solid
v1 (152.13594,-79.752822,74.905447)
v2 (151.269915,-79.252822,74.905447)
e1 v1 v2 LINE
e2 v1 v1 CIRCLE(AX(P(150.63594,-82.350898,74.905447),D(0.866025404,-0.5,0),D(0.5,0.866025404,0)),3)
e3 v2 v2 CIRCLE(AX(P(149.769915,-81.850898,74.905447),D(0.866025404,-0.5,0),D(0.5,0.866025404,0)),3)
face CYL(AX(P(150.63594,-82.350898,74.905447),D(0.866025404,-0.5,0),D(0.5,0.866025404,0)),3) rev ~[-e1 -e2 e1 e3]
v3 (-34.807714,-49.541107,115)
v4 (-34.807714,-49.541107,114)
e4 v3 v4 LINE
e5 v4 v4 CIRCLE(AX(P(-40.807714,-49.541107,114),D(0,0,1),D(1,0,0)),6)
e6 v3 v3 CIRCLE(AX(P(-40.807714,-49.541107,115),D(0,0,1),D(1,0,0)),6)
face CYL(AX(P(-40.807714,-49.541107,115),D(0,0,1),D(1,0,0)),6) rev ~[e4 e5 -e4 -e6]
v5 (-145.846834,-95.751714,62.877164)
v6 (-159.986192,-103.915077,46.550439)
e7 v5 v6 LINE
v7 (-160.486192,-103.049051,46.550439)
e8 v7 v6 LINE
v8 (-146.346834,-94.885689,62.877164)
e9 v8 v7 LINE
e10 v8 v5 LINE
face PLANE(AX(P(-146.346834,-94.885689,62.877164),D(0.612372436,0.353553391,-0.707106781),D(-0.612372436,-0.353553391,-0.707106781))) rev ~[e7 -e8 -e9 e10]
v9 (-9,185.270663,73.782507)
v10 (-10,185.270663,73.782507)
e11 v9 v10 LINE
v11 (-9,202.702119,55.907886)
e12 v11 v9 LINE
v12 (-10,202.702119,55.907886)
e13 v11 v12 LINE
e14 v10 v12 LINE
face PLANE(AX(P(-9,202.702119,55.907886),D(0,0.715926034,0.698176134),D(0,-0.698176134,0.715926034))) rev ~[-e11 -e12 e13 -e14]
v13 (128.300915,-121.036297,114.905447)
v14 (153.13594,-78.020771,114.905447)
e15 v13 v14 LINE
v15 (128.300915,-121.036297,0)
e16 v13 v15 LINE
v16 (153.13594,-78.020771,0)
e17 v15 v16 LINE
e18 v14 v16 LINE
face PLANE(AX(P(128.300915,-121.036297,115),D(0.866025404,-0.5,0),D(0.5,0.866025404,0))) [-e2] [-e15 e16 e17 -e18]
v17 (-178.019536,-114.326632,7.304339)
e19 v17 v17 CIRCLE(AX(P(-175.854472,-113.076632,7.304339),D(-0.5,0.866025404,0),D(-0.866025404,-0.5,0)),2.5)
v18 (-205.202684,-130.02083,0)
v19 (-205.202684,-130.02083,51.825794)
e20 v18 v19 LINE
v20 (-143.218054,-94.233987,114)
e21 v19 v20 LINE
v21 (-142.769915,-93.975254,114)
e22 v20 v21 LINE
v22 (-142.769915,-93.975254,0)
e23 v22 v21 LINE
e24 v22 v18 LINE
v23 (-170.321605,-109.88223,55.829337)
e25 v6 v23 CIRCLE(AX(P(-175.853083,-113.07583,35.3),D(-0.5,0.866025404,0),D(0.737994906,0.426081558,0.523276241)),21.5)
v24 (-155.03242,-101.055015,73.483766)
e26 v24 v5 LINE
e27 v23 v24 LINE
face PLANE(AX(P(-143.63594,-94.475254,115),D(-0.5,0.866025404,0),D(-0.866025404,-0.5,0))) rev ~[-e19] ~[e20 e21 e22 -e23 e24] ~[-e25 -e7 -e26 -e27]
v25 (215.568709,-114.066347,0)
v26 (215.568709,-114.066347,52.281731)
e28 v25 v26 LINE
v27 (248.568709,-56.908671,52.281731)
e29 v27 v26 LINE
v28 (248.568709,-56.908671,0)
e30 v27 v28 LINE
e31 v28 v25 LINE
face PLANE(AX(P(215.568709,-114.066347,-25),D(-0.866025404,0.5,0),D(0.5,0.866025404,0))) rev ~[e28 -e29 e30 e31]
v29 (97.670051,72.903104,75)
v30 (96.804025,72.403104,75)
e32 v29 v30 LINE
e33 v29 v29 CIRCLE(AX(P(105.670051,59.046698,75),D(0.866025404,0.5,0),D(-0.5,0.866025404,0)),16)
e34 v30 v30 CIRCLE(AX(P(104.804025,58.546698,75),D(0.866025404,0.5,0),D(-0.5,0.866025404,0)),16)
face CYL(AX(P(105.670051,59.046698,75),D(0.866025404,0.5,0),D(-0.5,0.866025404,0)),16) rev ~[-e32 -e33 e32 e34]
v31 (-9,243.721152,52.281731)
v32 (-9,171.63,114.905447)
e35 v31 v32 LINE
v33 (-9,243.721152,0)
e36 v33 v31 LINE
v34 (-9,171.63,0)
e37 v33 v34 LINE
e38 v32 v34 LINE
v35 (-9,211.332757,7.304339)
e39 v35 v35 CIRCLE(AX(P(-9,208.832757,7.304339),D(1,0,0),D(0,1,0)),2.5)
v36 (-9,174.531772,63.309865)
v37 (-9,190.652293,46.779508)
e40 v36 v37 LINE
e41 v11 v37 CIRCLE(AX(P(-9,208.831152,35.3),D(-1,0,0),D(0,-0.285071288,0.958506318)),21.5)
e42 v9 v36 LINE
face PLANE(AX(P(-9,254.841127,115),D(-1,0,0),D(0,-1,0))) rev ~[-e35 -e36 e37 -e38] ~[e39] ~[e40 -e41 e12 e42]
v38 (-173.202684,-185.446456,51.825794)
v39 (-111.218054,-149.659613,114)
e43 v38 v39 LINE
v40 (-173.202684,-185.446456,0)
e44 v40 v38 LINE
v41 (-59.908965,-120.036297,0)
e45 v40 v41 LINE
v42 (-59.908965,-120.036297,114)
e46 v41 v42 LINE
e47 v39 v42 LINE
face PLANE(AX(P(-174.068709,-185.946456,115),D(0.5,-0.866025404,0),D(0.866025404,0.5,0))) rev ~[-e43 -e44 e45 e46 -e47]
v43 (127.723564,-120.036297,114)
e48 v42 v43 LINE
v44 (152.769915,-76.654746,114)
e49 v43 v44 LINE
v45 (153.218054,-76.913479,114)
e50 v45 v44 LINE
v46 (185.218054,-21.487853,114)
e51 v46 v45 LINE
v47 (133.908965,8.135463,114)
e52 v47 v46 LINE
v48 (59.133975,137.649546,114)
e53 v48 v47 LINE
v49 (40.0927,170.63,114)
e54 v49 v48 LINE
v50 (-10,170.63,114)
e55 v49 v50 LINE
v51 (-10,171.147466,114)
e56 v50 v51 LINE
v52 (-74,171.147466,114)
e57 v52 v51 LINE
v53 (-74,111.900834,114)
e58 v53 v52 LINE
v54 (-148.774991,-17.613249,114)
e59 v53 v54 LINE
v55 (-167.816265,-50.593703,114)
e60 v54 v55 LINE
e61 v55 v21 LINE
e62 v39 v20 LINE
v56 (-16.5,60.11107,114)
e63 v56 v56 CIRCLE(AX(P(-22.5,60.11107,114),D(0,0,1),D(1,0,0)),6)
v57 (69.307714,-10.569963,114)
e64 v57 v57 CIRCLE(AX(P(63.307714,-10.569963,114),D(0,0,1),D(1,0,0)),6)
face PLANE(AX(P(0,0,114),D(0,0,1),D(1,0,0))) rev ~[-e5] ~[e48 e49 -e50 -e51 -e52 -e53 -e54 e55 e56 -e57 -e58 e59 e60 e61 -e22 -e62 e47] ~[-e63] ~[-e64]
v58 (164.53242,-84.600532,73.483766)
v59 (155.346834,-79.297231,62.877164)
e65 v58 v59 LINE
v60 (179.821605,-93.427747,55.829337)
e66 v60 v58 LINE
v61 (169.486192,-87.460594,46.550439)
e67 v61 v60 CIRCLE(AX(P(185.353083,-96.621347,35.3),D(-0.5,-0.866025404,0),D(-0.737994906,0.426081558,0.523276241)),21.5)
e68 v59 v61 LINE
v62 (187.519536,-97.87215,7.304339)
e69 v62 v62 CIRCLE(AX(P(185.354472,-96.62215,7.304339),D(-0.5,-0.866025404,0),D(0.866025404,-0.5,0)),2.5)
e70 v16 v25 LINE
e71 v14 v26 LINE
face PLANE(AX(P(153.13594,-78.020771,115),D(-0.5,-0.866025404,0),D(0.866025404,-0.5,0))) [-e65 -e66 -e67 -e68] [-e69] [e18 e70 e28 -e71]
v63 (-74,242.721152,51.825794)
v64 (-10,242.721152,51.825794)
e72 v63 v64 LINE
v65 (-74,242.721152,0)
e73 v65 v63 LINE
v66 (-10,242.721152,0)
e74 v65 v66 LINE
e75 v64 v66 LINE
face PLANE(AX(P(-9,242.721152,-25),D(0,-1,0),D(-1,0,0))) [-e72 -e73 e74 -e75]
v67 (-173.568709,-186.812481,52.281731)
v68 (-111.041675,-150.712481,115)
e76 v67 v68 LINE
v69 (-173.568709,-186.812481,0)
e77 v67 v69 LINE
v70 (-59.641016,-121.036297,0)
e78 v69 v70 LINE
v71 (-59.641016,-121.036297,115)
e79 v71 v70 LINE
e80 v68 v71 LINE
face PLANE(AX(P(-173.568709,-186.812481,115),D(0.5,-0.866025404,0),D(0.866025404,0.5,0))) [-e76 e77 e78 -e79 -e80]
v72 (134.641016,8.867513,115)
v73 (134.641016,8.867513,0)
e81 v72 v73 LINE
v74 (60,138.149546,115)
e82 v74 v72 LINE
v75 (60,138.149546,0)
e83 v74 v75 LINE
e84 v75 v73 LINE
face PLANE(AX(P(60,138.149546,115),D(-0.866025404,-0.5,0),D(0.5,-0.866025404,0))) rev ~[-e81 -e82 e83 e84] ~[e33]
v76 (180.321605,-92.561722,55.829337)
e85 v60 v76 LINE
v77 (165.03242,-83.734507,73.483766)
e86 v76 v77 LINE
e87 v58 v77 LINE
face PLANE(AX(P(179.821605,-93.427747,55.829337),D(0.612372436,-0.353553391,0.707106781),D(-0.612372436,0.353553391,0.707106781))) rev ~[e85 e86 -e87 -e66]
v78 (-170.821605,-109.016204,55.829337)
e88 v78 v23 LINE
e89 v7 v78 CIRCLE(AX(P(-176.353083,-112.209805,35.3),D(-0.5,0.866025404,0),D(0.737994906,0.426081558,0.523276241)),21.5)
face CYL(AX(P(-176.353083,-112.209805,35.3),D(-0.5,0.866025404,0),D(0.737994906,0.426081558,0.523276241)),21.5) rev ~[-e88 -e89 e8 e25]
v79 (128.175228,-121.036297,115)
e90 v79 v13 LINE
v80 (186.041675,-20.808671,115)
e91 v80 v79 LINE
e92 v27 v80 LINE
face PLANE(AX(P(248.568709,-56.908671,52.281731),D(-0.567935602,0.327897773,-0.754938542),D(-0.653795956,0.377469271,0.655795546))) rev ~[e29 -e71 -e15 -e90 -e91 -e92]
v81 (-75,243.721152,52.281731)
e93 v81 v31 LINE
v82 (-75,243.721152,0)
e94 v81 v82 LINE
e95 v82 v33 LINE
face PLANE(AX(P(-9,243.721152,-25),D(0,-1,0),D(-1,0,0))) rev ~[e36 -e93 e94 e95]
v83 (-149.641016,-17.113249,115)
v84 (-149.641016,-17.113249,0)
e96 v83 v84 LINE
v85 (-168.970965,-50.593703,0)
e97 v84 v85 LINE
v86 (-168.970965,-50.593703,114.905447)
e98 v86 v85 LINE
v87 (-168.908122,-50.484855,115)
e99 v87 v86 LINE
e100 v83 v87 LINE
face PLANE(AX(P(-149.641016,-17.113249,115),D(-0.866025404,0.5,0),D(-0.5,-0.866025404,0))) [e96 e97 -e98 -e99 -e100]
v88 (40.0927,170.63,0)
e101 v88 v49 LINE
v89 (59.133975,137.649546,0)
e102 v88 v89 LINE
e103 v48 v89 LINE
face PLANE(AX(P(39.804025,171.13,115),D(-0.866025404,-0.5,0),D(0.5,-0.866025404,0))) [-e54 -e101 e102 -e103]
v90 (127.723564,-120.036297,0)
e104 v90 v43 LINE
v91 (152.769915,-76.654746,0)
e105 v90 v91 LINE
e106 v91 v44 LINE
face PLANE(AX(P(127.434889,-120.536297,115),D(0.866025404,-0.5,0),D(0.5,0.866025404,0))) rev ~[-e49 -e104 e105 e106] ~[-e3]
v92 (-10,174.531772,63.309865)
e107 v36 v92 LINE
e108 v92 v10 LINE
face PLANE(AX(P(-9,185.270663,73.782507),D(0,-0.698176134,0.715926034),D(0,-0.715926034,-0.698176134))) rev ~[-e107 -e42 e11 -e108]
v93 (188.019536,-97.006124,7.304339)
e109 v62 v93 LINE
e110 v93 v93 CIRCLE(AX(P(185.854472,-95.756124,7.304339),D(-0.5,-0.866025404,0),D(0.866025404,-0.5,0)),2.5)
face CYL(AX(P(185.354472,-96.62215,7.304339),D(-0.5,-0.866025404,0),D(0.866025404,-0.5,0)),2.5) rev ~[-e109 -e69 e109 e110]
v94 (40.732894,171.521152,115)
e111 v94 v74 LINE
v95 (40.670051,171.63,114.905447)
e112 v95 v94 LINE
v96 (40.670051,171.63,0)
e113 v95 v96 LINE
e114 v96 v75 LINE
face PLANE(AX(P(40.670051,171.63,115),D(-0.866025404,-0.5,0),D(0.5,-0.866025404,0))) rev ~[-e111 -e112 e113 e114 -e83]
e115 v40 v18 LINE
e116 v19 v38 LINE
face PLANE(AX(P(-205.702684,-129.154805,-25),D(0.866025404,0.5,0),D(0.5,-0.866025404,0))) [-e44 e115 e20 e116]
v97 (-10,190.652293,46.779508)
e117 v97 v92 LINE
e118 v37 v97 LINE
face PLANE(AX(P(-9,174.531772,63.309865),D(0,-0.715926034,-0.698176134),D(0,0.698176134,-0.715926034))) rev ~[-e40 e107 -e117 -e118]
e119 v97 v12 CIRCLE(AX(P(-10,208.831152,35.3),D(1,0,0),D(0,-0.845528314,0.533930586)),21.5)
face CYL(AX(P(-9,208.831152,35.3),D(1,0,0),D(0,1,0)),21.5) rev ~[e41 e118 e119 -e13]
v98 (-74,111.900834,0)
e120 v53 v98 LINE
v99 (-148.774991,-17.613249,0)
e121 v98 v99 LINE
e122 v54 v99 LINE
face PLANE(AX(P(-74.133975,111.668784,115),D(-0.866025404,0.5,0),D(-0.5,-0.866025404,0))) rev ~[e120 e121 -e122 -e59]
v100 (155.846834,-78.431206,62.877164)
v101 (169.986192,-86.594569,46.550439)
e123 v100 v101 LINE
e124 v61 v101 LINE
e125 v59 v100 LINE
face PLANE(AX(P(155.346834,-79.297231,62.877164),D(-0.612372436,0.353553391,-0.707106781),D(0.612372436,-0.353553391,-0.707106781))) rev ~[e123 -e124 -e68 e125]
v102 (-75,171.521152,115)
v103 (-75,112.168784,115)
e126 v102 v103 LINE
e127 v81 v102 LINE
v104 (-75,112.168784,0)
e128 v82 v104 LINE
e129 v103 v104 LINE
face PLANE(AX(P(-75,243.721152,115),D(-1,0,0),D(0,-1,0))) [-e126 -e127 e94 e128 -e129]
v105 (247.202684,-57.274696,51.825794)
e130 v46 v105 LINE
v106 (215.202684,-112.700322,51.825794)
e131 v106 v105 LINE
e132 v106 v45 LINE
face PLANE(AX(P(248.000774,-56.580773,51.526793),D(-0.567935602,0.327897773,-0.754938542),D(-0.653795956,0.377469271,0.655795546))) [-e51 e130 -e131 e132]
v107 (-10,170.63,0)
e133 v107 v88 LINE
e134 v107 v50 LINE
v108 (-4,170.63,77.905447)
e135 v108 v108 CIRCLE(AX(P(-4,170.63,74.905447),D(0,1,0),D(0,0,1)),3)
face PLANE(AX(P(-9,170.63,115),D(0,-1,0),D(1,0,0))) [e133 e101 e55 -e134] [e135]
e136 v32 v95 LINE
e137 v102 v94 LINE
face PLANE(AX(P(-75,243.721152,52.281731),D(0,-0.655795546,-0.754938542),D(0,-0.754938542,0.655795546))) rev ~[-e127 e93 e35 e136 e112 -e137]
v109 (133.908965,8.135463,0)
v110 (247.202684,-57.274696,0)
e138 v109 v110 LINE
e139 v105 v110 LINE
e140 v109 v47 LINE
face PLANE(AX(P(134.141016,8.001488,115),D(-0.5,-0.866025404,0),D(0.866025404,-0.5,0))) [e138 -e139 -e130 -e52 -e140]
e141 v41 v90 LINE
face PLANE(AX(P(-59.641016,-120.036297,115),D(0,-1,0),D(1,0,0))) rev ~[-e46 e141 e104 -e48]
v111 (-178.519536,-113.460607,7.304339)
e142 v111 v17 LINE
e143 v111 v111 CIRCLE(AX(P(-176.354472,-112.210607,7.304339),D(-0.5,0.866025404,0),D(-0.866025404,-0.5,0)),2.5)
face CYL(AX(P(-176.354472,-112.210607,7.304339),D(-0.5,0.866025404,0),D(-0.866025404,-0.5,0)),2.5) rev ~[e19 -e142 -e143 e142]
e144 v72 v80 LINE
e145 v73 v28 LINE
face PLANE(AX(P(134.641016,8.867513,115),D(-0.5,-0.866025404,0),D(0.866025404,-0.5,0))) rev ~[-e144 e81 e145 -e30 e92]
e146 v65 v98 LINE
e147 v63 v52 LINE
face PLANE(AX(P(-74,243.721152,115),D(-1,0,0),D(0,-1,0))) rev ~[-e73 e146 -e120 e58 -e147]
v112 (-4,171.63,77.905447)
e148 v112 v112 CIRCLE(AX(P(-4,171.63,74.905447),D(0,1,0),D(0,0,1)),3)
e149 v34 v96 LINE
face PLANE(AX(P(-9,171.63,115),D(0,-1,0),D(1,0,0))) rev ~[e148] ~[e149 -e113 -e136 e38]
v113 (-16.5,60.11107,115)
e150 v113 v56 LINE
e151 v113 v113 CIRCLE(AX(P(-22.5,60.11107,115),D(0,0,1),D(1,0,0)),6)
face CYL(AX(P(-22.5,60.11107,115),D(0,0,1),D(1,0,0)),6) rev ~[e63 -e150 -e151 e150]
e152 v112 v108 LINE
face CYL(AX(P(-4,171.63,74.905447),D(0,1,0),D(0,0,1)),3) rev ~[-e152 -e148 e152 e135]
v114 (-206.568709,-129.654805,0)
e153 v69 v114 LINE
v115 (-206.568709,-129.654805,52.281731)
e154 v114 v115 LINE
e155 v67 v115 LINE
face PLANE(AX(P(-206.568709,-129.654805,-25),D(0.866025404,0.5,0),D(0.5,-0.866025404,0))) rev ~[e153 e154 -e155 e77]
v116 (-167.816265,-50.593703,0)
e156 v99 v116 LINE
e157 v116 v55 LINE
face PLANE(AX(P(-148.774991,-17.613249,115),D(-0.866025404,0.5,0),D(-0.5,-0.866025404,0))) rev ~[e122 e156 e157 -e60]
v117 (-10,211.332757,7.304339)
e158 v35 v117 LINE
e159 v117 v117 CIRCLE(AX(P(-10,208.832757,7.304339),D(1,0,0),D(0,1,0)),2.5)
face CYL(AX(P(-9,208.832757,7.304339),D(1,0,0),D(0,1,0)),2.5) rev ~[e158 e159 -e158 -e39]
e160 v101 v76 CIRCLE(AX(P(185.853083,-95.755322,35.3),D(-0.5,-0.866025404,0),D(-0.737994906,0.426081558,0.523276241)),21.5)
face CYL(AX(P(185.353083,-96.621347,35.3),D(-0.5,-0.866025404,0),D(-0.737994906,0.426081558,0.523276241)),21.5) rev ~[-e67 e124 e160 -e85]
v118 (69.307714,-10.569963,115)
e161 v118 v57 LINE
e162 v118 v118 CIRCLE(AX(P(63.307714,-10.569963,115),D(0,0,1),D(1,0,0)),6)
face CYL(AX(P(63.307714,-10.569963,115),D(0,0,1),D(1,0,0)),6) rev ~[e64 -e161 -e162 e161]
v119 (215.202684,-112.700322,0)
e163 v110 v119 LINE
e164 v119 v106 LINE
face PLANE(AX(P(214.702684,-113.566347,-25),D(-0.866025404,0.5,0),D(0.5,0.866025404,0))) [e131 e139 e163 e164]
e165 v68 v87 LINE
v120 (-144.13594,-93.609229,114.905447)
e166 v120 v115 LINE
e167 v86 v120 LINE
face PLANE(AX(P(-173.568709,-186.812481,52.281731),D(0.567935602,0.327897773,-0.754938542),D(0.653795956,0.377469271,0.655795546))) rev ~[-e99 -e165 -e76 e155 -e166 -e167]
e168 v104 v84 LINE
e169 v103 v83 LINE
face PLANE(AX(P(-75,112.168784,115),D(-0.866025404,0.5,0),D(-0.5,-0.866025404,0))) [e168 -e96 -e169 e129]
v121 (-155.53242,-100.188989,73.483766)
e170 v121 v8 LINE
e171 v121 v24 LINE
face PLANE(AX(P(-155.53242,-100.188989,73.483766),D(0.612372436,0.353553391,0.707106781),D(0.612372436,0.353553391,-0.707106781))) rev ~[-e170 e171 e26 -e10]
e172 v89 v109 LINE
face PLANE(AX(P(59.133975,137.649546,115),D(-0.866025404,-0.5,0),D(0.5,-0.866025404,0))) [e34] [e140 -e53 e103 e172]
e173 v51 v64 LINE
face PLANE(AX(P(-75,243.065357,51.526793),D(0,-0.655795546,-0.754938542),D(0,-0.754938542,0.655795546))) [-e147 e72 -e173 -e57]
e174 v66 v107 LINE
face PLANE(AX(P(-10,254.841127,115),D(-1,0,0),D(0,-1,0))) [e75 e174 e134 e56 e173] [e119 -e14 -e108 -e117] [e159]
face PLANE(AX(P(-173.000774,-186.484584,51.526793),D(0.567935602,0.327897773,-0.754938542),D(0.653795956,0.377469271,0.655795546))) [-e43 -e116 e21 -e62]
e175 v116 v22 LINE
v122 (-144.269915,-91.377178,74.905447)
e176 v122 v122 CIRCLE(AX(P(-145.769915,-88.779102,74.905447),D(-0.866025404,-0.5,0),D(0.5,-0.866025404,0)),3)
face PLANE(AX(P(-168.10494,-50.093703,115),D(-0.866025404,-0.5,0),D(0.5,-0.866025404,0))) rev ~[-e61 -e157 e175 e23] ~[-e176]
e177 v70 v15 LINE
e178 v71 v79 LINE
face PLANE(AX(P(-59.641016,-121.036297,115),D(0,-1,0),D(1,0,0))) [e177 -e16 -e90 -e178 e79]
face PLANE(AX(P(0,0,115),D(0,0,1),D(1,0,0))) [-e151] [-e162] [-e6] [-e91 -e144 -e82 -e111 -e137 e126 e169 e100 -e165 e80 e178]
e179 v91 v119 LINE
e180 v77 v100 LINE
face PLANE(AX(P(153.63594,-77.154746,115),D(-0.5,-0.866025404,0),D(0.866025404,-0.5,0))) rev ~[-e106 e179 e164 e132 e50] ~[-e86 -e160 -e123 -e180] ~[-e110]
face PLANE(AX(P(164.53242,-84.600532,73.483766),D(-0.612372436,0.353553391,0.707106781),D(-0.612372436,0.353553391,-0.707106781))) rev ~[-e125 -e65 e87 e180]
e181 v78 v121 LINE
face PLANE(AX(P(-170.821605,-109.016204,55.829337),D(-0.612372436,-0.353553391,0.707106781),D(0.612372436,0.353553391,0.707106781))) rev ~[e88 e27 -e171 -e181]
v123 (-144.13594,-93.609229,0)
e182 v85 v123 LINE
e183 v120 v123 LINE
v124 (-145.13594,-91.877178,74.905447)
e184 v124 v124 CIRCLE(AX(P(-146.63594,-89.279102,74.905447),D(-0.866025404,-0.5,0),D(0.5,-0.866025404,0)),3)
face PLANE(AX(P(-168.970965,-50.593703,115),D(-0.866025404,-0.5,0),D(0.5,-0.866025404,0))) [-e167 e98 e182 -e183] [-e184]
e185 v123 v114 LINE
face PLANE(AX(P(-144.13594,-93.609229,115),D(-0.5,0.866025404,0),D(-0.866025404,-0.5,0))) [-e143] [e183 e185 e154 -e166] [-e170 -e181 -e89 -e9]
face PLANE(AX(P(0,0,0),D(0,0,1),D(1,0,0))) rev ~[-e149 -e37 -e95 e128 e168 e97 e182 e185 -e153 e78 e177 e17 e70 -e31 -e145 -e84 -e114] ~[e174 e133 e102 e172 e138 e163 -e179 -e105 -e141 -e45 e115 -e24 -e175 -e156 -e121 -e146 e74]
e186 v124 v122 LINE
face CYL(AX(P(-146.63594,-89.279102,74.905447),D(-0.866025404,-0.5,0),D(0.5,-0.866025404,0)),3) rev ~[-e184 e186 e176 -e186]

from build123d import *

# Parameters (mm, degrees)
SKETCH_1_R           = 255
EXTRUDE_1_DEPTH      = 115
CUT_EXTRUDE_1_DEPTH  = 379.516842426
CUT_EXTRUDE_START    = -140
CUT_EXTRUDE_2_DEPTH  = 140
CUT_EXTRUDE_3_DEPTH  = 140
CUT_EXTRUDE_4_DEPTH  = 140
CUT_EXTRUDE_5_DEPTH  = 140
SHELL_1_T            = -1
SKETCH_7_R           = 21.5
CUT_EXTRUDE_6_DEPTH  = 10
CUT_EXTRUDE_7_DEPTH  = 10
CUT_EXTRUDE_8_DEPTH  = 10
SKETCH_10_R          = 6
CUT_EXTRUDE_9_DEPTH  = 10
SKETCH_11_R          = 2.5
CUT_EXTRUDE_10_DEPTH = 10
SKETCH_13_R          = 2.5
CUT_EXTRUDE_11_DEPTH = 10
SKETCH_12_R          = 2.5
CUT_EXTRUDE_12_DEPTH = 10
SKETCH_16_R          = 16
CUT_EXTRUDE_13_DEPTH = 4.5
CUT_EXTRUDE_14_DEPTH = 4.5
SKETCH_18_R          = 3
CUT_EXTRUDE_15_DEPTH = 4.5
SKETCH_19_R          = 3
CUT_EXTRUDE_16_DEPTH = 4.5
SKETCH_20_R          = 3
CUT_EXTRUDE_17_DEPTH = 4.5


with BuildPart() as part:
    # 草图1 → 拉伸1 (new body)
    with BuildSketch(Plane.XY):
        Circle(SKETCH_1_R)
    extrude(amount=EXTRUDE_1_DEPTH)

    # 草图2 → 切除-拉伸1 (cut, through all)
    with BuildSketch(Plane.XY.offset(115)):
        with BuildLine():
            Line((-75, 243.721152139), (-75, 112.168783649))
            Line((-75, 112.168783649), (-149.641016151, -17.113248654))
            Line((-149.641016151, -17.113248654), (-168.970965418, -50.593702892))
            Line((-168.970965418, -50.593702892), (-144.135940052, -93.609228634))
            Line((-144.135940052, -93.609228634), (-216.198889893, -135.214792124))
            ThreePointArc((-216.198889893, -135.214792124), (-238.950435932, 89.037571663), (-75, 243.721152139))
        make_face()
        with BuildLine():
            Line((134.641016151, 8.867513459), (248.568709192, -56.908670786))
            ThreePointArc((248.568709192, -56.908670786), (196.584016918, 162.418361931), (-9, 254.841126979))
            Line((-9, 254.841126979), (-9, 171.63))
            Line((-9, 171.63), (40.670050733, 171.63))
            Line((40.670050733, 171.63), (60, 138.149545762))
            Line((60, 138.149545762), (134.641016151, 8.867513459))
        make_face()
        with BuildLine():
            Line((-173.568709192, -186.812481353), (-59.641016151, -121.036297108))
            Line((-59.641016151, -121.036297108), (89.641016151, -121.036297108))
            Line((89.641016151, -121.036297108), (128.300914685, -121.036297108))
            Line((128.300914685, -121.036297108), (153.135940052, -78.020771366))
            Line((153.135940052, -78.020771366), (225.198889893, -119.626334856))
            ThreePointArc((225.198889893, -119.626334856), (42.366419014, -251.455933595), (-173.568709192, -186.812481353))
        make_face()
    extrude(amount=-CUT_EXTRUDE_1_DEPTH, mode=Mode.SUBTRACT)

    # 草图3 → 切除-拉伸2 (cut)
    with BuildSketch(Plane.XY.offset(115).offset(CUT_EXTRUDE_START)):
        with BuildLine():
            Line((225.198889893, -119.626334856), (215.568709192, -114.066347435))
            Line((215.568709192, -114.066347435), (248.568709192, -56.908670786))
            ThreePointArc((248.568709192, -56.908670786), (238.950435932, -89.037571663), (225.198889893, -119.626334856))
        make_face()
        with BuildLine():
            Line((-9, 254.841126979), (-9, 243.721152139))
            Line((-9, 243.721152139), (-75, 243.721152139))
            ThreePointArc((-75, 243.721152139), (-42.366419014, 251.455933595), (-9, 254.841126979))
        make_face()
        with BuildLine():
            Line((-216.198889893, -135.214792124), (-206.568709192, -129.654804704))
            Line((-206.568709192, -129.654804704), (-173.568709192, -186.812481353))
            ThreePointArc((-173.568709192, -186.812481353), (-196.584016918, -162.418361931), (-216.198889893, -135.214792124))
        make_face()
    extrude(amount=CUT_EXTRUDE_2_DEPTH, mode=Mode.SUBTRACT)

    # 草图4 → 切除-拉伸3 (cut)
    with BuildSketch(Plane(origin=(37.5, -64.951905284, 0), x_dir=(0.8660254037844386, 0.5000000000000002, 0), z_dir=(0.5000000000000002, -0.8660254037844386, 0))):
        Polygon((-171.521152139, 115), (-243.721152139, 115), (-243.721152139, 52.281731212), align=None)
    extrude(amount=-CUT_EXTRUDE_3_DEPTH, mode=Mode.SUBTRACT)

    # 草图5 → 切除-拉伸4 (cut)
    with BuildSketch(Plane(origin=(37.5, 64.951905284, 0), x_dir=(-0.8660254037844387, 0.4999999999999999, 0), z_dir=(0.4999999999999999, 0.8660254037844387, 0))):
        Polygon((-171.521152139, 115), (-243.721152139, 115), (-243.721152139, 52.281731212), align=None)
    extrude(amount=-CUT_EXTRUDE_4_DEPTH, mode=Mode.SUBTRACT)

    # 草图6 → 切除-拉伸5 (cut)
    with BuildSketch(Plane.ZY.offset(75)):
        Polygon((115, 171.521152139), (115, 243.721152139), (52.281731212, 243.721152139), align=None)
    extrude(amount=-CUT_EXTRUDE_5_DEPTH, mode=Mode.SUBTRACT)

    # 抽壳1
    shell_1_openings = [part.faces().sort_by_distance(p)[0] for p in [
        (0, 0, 0),
    ]]
    offset(amount=SHELL_1_T, openings=shell_1_openings, kind=Kind.INTERSECTION)

    # 草图7 → 切除-拉伸6 (cut)
    with BuildSketch(Plane(origin=(-9, 0, 0), x_dir=(0, 0, -1), z_dir=(1, 0, 0))):
        with Locations(Location((-35.3, 208.831152139, 0), (0, 0, 90))):
            Circle(SKETCH_7_R)
    extrude(amount=-CUT_EXTRUDE_6_DEPTH, mode=Mode.SUBTRACT)

    # 草图8 → 切除-拉伸7 (cut)
    with BuildSketch(Plane(origin=(4.5, 7.794228634, 0), x_dir=(0.8660254037844387, -0.5, 0), z_dir=(-0.5, -0.8660254037844387, 0))):
        with BuildLine():
            Line((202.443951117, 55.829336646), (184.789521579, 73.483766184))
            Line((184.789521579, 73.483766184), (174.182919861, 62.877164466))
            Line((174.182919861, 62.877164466), (190.509645151, 46.550439177))
            ThreePointArc((190.509645151, 46.550439177), (222.027914903, 18.326625187), (202.443951117, 55.829336646))
        make_face()
    extrude(amount=-CUT_EXTRUDE_7_DEPTH, mode=Mode.SUBTRACT)

    # 草图9 → 切除-拉伸8 (cut)
    with BuildSketch(Plane(origin=(4.5, -7.794228634, 0), x_dir=(-0.8660254037844388, -0.4999999999999996, 0), z_dir=(-0.4999999999999996, 0.8660254037844388, 0))):
        with BuildLine():
            Line((202.443951117, 55.829336646), (184.789521579, 73.483766184))
            Line((184.789521579, 73.483766184), (174.182919861, 62.877164466))
            Line((174.182919861, 62.877164466), (190.509645151, 46.550439177))
            ThreePointArc((190.509645151, 46.550439177), (222.027914903, 18.326625187), (202.443951117, 55.829336646))
        make_face()
    extrude(amount=-CUT_EXTRUDE_8_DEPTH, mode=Mode.SUBTRACT)

    # 草图10 → 切除-拉伸9 (cut)
    with BuildSketch(Plane.XY.offset(115)):
        with Locations((-22.5, 60.111069989)):
            Circle(SKETCH_10_R)
        with Locations((-40.807713659, -49.54110658)):
            Circle(SKETCH_10_R)
        with Locations((63.307713659, -10.56996341)):
            Circle(SKETCH_10_R)
    extrude(amount=-CUT_EXTRUDE_9_DEPTH, mode=Mode.SUBTRACT)

    # 草图11 → 切除-拉伸10 (cut)
    with BuildSketch(Plane(origin=(-9, 0, 0), x_dir=(0, 0, -1), z_dir=(1, 0, 0))):
        with Locations(Location((-7.30433866, 208.832756681, 0), (0, 0, 90))):
            Circle(SKETCH_11_R)
    extrude(amount=-CUT_EXTRUDE_10_DEPTH, mode=Mode.SUBTRACT)

    # 草图13 → 切除-拉伸11 (cut)
    with BuildSketch(Plane(origin=(4.5, -7.794228634, 0), x_dir=(-0.8660254037844389, -0.4999999999999995, 0), z_dir=(-0.4999999999999995, 0.8660254037844389, 0))):
        with Locations((208.832756681, 7.30433866)):
            Circle(SKETCH_13_R)
    extrude(amount=-CUT_EXTRUDE_11_DEPTH, mode=Mode.SUBTRACT)

    # 草图12 → 切除-拉伸12 (cut)
    with BuildSketch(Plane(origin=(4.5, 7.794228634, 0), x_dir=(0.8660254037844386, -0.4999999999999999, 0), z_dir=(-0.49999999999999994, -0.8660254037844387, 0))):
        with Locations((208.832756681, 7.30433866)):
            Circle(SKETCH_12_R)
    extrude(amount=-CUT_EXTRUDE_12_DEPTH, mode=Mode.SUBTRACT)

    # 草图16 → 切除-拉伸13 (cut)
    with BuildSketch(Plane(origin=(104.820508076, 60.518148554, 0), x_dir=(0, 0, -1), z_dir=(0.8660254037844385, 0.5000000000000004, 0))):
        with Locations(Location((-75, -1.699085315, 0), (0, 0, 90))):
            Circle(SKETCH_16_R)
    extrude(amount=-CUT_EXTRUDE_13_DEPTH, mode=Mode.SUBTRACT)

    # 草图17 → 切除-拉伸14 (cut)
    with BuildSketch(Plane(origin=(-9, 0, 0), x_dir=(0, 0, -1), z_dir=(1, 0, 0))):
        with BuildLine():
            Line((-55.907885828, 202.70211945), (-73.782506819, 185.270662567))
            Line((-73.782506819, 185.270662567), (-63.309864805, 174.531772063))
            Line((-63.309864805, 174.531772063), (-46.779507597, 190.652293392))
            ThreePointArc((-46.779507597, 190.652293392), (-18.162328595, 221.813841337), (-55.907885828, 202.70211945))
        make_face()
    extrude(amount=-CUT_EXTRUDE_14_DEPTH, mode=Mode.SUBTRACT)

    # 草图18 → 切除-拉伸15 (cut)
    with BuildSketch(Plane(origin=(0, 171.63, 0), x_dir=(-1, 0, 0), z_dir=(0, 1, 0))):
        with Locations(Location((4, 74.905446684, 0), (0, 0, 90))):
            Circle(SKETCH_18_R)
    extrude(amount=-CUT_EXTRUDE_15_DEPTH, mode=Mode.SUBTRACT)

    # 草图19 → 切除-拉伸16 (cut)
    with BuildSketch(Plane(origin=(148.635940052, -85.815, 0), x_dir=(0, 0, -1), z_dir=(0.8660254037844388, -0.49999999999999983, 0))):
        with Locations(Location((-74.905446684, 4, 0), (0, 0, 90))):
            Circle(SKETCH_19_R)
    extrude(amount=-CUT_EXTRUDE_16_DEPTH, mode=Mode.SUBTRACT)

    # 草图20 → 切除-拉伸17 (cut)
    with BuildSketch(Plane(origin=(-148.635940052, -85.815, 0), x_dir=(0, 0, 1), z_dir=(-0.866025403784438, -0.5000000000000009, 0))):
        with Locations(Location((74.905446684, -4, 0), (0, 0, 270))):
            Circle(SKETCH_20_R)
    extrude(amount=-CUT_EXTRUDE_17_DEPTH, mode=Mode.SUBTRACT)


solid = part.part
